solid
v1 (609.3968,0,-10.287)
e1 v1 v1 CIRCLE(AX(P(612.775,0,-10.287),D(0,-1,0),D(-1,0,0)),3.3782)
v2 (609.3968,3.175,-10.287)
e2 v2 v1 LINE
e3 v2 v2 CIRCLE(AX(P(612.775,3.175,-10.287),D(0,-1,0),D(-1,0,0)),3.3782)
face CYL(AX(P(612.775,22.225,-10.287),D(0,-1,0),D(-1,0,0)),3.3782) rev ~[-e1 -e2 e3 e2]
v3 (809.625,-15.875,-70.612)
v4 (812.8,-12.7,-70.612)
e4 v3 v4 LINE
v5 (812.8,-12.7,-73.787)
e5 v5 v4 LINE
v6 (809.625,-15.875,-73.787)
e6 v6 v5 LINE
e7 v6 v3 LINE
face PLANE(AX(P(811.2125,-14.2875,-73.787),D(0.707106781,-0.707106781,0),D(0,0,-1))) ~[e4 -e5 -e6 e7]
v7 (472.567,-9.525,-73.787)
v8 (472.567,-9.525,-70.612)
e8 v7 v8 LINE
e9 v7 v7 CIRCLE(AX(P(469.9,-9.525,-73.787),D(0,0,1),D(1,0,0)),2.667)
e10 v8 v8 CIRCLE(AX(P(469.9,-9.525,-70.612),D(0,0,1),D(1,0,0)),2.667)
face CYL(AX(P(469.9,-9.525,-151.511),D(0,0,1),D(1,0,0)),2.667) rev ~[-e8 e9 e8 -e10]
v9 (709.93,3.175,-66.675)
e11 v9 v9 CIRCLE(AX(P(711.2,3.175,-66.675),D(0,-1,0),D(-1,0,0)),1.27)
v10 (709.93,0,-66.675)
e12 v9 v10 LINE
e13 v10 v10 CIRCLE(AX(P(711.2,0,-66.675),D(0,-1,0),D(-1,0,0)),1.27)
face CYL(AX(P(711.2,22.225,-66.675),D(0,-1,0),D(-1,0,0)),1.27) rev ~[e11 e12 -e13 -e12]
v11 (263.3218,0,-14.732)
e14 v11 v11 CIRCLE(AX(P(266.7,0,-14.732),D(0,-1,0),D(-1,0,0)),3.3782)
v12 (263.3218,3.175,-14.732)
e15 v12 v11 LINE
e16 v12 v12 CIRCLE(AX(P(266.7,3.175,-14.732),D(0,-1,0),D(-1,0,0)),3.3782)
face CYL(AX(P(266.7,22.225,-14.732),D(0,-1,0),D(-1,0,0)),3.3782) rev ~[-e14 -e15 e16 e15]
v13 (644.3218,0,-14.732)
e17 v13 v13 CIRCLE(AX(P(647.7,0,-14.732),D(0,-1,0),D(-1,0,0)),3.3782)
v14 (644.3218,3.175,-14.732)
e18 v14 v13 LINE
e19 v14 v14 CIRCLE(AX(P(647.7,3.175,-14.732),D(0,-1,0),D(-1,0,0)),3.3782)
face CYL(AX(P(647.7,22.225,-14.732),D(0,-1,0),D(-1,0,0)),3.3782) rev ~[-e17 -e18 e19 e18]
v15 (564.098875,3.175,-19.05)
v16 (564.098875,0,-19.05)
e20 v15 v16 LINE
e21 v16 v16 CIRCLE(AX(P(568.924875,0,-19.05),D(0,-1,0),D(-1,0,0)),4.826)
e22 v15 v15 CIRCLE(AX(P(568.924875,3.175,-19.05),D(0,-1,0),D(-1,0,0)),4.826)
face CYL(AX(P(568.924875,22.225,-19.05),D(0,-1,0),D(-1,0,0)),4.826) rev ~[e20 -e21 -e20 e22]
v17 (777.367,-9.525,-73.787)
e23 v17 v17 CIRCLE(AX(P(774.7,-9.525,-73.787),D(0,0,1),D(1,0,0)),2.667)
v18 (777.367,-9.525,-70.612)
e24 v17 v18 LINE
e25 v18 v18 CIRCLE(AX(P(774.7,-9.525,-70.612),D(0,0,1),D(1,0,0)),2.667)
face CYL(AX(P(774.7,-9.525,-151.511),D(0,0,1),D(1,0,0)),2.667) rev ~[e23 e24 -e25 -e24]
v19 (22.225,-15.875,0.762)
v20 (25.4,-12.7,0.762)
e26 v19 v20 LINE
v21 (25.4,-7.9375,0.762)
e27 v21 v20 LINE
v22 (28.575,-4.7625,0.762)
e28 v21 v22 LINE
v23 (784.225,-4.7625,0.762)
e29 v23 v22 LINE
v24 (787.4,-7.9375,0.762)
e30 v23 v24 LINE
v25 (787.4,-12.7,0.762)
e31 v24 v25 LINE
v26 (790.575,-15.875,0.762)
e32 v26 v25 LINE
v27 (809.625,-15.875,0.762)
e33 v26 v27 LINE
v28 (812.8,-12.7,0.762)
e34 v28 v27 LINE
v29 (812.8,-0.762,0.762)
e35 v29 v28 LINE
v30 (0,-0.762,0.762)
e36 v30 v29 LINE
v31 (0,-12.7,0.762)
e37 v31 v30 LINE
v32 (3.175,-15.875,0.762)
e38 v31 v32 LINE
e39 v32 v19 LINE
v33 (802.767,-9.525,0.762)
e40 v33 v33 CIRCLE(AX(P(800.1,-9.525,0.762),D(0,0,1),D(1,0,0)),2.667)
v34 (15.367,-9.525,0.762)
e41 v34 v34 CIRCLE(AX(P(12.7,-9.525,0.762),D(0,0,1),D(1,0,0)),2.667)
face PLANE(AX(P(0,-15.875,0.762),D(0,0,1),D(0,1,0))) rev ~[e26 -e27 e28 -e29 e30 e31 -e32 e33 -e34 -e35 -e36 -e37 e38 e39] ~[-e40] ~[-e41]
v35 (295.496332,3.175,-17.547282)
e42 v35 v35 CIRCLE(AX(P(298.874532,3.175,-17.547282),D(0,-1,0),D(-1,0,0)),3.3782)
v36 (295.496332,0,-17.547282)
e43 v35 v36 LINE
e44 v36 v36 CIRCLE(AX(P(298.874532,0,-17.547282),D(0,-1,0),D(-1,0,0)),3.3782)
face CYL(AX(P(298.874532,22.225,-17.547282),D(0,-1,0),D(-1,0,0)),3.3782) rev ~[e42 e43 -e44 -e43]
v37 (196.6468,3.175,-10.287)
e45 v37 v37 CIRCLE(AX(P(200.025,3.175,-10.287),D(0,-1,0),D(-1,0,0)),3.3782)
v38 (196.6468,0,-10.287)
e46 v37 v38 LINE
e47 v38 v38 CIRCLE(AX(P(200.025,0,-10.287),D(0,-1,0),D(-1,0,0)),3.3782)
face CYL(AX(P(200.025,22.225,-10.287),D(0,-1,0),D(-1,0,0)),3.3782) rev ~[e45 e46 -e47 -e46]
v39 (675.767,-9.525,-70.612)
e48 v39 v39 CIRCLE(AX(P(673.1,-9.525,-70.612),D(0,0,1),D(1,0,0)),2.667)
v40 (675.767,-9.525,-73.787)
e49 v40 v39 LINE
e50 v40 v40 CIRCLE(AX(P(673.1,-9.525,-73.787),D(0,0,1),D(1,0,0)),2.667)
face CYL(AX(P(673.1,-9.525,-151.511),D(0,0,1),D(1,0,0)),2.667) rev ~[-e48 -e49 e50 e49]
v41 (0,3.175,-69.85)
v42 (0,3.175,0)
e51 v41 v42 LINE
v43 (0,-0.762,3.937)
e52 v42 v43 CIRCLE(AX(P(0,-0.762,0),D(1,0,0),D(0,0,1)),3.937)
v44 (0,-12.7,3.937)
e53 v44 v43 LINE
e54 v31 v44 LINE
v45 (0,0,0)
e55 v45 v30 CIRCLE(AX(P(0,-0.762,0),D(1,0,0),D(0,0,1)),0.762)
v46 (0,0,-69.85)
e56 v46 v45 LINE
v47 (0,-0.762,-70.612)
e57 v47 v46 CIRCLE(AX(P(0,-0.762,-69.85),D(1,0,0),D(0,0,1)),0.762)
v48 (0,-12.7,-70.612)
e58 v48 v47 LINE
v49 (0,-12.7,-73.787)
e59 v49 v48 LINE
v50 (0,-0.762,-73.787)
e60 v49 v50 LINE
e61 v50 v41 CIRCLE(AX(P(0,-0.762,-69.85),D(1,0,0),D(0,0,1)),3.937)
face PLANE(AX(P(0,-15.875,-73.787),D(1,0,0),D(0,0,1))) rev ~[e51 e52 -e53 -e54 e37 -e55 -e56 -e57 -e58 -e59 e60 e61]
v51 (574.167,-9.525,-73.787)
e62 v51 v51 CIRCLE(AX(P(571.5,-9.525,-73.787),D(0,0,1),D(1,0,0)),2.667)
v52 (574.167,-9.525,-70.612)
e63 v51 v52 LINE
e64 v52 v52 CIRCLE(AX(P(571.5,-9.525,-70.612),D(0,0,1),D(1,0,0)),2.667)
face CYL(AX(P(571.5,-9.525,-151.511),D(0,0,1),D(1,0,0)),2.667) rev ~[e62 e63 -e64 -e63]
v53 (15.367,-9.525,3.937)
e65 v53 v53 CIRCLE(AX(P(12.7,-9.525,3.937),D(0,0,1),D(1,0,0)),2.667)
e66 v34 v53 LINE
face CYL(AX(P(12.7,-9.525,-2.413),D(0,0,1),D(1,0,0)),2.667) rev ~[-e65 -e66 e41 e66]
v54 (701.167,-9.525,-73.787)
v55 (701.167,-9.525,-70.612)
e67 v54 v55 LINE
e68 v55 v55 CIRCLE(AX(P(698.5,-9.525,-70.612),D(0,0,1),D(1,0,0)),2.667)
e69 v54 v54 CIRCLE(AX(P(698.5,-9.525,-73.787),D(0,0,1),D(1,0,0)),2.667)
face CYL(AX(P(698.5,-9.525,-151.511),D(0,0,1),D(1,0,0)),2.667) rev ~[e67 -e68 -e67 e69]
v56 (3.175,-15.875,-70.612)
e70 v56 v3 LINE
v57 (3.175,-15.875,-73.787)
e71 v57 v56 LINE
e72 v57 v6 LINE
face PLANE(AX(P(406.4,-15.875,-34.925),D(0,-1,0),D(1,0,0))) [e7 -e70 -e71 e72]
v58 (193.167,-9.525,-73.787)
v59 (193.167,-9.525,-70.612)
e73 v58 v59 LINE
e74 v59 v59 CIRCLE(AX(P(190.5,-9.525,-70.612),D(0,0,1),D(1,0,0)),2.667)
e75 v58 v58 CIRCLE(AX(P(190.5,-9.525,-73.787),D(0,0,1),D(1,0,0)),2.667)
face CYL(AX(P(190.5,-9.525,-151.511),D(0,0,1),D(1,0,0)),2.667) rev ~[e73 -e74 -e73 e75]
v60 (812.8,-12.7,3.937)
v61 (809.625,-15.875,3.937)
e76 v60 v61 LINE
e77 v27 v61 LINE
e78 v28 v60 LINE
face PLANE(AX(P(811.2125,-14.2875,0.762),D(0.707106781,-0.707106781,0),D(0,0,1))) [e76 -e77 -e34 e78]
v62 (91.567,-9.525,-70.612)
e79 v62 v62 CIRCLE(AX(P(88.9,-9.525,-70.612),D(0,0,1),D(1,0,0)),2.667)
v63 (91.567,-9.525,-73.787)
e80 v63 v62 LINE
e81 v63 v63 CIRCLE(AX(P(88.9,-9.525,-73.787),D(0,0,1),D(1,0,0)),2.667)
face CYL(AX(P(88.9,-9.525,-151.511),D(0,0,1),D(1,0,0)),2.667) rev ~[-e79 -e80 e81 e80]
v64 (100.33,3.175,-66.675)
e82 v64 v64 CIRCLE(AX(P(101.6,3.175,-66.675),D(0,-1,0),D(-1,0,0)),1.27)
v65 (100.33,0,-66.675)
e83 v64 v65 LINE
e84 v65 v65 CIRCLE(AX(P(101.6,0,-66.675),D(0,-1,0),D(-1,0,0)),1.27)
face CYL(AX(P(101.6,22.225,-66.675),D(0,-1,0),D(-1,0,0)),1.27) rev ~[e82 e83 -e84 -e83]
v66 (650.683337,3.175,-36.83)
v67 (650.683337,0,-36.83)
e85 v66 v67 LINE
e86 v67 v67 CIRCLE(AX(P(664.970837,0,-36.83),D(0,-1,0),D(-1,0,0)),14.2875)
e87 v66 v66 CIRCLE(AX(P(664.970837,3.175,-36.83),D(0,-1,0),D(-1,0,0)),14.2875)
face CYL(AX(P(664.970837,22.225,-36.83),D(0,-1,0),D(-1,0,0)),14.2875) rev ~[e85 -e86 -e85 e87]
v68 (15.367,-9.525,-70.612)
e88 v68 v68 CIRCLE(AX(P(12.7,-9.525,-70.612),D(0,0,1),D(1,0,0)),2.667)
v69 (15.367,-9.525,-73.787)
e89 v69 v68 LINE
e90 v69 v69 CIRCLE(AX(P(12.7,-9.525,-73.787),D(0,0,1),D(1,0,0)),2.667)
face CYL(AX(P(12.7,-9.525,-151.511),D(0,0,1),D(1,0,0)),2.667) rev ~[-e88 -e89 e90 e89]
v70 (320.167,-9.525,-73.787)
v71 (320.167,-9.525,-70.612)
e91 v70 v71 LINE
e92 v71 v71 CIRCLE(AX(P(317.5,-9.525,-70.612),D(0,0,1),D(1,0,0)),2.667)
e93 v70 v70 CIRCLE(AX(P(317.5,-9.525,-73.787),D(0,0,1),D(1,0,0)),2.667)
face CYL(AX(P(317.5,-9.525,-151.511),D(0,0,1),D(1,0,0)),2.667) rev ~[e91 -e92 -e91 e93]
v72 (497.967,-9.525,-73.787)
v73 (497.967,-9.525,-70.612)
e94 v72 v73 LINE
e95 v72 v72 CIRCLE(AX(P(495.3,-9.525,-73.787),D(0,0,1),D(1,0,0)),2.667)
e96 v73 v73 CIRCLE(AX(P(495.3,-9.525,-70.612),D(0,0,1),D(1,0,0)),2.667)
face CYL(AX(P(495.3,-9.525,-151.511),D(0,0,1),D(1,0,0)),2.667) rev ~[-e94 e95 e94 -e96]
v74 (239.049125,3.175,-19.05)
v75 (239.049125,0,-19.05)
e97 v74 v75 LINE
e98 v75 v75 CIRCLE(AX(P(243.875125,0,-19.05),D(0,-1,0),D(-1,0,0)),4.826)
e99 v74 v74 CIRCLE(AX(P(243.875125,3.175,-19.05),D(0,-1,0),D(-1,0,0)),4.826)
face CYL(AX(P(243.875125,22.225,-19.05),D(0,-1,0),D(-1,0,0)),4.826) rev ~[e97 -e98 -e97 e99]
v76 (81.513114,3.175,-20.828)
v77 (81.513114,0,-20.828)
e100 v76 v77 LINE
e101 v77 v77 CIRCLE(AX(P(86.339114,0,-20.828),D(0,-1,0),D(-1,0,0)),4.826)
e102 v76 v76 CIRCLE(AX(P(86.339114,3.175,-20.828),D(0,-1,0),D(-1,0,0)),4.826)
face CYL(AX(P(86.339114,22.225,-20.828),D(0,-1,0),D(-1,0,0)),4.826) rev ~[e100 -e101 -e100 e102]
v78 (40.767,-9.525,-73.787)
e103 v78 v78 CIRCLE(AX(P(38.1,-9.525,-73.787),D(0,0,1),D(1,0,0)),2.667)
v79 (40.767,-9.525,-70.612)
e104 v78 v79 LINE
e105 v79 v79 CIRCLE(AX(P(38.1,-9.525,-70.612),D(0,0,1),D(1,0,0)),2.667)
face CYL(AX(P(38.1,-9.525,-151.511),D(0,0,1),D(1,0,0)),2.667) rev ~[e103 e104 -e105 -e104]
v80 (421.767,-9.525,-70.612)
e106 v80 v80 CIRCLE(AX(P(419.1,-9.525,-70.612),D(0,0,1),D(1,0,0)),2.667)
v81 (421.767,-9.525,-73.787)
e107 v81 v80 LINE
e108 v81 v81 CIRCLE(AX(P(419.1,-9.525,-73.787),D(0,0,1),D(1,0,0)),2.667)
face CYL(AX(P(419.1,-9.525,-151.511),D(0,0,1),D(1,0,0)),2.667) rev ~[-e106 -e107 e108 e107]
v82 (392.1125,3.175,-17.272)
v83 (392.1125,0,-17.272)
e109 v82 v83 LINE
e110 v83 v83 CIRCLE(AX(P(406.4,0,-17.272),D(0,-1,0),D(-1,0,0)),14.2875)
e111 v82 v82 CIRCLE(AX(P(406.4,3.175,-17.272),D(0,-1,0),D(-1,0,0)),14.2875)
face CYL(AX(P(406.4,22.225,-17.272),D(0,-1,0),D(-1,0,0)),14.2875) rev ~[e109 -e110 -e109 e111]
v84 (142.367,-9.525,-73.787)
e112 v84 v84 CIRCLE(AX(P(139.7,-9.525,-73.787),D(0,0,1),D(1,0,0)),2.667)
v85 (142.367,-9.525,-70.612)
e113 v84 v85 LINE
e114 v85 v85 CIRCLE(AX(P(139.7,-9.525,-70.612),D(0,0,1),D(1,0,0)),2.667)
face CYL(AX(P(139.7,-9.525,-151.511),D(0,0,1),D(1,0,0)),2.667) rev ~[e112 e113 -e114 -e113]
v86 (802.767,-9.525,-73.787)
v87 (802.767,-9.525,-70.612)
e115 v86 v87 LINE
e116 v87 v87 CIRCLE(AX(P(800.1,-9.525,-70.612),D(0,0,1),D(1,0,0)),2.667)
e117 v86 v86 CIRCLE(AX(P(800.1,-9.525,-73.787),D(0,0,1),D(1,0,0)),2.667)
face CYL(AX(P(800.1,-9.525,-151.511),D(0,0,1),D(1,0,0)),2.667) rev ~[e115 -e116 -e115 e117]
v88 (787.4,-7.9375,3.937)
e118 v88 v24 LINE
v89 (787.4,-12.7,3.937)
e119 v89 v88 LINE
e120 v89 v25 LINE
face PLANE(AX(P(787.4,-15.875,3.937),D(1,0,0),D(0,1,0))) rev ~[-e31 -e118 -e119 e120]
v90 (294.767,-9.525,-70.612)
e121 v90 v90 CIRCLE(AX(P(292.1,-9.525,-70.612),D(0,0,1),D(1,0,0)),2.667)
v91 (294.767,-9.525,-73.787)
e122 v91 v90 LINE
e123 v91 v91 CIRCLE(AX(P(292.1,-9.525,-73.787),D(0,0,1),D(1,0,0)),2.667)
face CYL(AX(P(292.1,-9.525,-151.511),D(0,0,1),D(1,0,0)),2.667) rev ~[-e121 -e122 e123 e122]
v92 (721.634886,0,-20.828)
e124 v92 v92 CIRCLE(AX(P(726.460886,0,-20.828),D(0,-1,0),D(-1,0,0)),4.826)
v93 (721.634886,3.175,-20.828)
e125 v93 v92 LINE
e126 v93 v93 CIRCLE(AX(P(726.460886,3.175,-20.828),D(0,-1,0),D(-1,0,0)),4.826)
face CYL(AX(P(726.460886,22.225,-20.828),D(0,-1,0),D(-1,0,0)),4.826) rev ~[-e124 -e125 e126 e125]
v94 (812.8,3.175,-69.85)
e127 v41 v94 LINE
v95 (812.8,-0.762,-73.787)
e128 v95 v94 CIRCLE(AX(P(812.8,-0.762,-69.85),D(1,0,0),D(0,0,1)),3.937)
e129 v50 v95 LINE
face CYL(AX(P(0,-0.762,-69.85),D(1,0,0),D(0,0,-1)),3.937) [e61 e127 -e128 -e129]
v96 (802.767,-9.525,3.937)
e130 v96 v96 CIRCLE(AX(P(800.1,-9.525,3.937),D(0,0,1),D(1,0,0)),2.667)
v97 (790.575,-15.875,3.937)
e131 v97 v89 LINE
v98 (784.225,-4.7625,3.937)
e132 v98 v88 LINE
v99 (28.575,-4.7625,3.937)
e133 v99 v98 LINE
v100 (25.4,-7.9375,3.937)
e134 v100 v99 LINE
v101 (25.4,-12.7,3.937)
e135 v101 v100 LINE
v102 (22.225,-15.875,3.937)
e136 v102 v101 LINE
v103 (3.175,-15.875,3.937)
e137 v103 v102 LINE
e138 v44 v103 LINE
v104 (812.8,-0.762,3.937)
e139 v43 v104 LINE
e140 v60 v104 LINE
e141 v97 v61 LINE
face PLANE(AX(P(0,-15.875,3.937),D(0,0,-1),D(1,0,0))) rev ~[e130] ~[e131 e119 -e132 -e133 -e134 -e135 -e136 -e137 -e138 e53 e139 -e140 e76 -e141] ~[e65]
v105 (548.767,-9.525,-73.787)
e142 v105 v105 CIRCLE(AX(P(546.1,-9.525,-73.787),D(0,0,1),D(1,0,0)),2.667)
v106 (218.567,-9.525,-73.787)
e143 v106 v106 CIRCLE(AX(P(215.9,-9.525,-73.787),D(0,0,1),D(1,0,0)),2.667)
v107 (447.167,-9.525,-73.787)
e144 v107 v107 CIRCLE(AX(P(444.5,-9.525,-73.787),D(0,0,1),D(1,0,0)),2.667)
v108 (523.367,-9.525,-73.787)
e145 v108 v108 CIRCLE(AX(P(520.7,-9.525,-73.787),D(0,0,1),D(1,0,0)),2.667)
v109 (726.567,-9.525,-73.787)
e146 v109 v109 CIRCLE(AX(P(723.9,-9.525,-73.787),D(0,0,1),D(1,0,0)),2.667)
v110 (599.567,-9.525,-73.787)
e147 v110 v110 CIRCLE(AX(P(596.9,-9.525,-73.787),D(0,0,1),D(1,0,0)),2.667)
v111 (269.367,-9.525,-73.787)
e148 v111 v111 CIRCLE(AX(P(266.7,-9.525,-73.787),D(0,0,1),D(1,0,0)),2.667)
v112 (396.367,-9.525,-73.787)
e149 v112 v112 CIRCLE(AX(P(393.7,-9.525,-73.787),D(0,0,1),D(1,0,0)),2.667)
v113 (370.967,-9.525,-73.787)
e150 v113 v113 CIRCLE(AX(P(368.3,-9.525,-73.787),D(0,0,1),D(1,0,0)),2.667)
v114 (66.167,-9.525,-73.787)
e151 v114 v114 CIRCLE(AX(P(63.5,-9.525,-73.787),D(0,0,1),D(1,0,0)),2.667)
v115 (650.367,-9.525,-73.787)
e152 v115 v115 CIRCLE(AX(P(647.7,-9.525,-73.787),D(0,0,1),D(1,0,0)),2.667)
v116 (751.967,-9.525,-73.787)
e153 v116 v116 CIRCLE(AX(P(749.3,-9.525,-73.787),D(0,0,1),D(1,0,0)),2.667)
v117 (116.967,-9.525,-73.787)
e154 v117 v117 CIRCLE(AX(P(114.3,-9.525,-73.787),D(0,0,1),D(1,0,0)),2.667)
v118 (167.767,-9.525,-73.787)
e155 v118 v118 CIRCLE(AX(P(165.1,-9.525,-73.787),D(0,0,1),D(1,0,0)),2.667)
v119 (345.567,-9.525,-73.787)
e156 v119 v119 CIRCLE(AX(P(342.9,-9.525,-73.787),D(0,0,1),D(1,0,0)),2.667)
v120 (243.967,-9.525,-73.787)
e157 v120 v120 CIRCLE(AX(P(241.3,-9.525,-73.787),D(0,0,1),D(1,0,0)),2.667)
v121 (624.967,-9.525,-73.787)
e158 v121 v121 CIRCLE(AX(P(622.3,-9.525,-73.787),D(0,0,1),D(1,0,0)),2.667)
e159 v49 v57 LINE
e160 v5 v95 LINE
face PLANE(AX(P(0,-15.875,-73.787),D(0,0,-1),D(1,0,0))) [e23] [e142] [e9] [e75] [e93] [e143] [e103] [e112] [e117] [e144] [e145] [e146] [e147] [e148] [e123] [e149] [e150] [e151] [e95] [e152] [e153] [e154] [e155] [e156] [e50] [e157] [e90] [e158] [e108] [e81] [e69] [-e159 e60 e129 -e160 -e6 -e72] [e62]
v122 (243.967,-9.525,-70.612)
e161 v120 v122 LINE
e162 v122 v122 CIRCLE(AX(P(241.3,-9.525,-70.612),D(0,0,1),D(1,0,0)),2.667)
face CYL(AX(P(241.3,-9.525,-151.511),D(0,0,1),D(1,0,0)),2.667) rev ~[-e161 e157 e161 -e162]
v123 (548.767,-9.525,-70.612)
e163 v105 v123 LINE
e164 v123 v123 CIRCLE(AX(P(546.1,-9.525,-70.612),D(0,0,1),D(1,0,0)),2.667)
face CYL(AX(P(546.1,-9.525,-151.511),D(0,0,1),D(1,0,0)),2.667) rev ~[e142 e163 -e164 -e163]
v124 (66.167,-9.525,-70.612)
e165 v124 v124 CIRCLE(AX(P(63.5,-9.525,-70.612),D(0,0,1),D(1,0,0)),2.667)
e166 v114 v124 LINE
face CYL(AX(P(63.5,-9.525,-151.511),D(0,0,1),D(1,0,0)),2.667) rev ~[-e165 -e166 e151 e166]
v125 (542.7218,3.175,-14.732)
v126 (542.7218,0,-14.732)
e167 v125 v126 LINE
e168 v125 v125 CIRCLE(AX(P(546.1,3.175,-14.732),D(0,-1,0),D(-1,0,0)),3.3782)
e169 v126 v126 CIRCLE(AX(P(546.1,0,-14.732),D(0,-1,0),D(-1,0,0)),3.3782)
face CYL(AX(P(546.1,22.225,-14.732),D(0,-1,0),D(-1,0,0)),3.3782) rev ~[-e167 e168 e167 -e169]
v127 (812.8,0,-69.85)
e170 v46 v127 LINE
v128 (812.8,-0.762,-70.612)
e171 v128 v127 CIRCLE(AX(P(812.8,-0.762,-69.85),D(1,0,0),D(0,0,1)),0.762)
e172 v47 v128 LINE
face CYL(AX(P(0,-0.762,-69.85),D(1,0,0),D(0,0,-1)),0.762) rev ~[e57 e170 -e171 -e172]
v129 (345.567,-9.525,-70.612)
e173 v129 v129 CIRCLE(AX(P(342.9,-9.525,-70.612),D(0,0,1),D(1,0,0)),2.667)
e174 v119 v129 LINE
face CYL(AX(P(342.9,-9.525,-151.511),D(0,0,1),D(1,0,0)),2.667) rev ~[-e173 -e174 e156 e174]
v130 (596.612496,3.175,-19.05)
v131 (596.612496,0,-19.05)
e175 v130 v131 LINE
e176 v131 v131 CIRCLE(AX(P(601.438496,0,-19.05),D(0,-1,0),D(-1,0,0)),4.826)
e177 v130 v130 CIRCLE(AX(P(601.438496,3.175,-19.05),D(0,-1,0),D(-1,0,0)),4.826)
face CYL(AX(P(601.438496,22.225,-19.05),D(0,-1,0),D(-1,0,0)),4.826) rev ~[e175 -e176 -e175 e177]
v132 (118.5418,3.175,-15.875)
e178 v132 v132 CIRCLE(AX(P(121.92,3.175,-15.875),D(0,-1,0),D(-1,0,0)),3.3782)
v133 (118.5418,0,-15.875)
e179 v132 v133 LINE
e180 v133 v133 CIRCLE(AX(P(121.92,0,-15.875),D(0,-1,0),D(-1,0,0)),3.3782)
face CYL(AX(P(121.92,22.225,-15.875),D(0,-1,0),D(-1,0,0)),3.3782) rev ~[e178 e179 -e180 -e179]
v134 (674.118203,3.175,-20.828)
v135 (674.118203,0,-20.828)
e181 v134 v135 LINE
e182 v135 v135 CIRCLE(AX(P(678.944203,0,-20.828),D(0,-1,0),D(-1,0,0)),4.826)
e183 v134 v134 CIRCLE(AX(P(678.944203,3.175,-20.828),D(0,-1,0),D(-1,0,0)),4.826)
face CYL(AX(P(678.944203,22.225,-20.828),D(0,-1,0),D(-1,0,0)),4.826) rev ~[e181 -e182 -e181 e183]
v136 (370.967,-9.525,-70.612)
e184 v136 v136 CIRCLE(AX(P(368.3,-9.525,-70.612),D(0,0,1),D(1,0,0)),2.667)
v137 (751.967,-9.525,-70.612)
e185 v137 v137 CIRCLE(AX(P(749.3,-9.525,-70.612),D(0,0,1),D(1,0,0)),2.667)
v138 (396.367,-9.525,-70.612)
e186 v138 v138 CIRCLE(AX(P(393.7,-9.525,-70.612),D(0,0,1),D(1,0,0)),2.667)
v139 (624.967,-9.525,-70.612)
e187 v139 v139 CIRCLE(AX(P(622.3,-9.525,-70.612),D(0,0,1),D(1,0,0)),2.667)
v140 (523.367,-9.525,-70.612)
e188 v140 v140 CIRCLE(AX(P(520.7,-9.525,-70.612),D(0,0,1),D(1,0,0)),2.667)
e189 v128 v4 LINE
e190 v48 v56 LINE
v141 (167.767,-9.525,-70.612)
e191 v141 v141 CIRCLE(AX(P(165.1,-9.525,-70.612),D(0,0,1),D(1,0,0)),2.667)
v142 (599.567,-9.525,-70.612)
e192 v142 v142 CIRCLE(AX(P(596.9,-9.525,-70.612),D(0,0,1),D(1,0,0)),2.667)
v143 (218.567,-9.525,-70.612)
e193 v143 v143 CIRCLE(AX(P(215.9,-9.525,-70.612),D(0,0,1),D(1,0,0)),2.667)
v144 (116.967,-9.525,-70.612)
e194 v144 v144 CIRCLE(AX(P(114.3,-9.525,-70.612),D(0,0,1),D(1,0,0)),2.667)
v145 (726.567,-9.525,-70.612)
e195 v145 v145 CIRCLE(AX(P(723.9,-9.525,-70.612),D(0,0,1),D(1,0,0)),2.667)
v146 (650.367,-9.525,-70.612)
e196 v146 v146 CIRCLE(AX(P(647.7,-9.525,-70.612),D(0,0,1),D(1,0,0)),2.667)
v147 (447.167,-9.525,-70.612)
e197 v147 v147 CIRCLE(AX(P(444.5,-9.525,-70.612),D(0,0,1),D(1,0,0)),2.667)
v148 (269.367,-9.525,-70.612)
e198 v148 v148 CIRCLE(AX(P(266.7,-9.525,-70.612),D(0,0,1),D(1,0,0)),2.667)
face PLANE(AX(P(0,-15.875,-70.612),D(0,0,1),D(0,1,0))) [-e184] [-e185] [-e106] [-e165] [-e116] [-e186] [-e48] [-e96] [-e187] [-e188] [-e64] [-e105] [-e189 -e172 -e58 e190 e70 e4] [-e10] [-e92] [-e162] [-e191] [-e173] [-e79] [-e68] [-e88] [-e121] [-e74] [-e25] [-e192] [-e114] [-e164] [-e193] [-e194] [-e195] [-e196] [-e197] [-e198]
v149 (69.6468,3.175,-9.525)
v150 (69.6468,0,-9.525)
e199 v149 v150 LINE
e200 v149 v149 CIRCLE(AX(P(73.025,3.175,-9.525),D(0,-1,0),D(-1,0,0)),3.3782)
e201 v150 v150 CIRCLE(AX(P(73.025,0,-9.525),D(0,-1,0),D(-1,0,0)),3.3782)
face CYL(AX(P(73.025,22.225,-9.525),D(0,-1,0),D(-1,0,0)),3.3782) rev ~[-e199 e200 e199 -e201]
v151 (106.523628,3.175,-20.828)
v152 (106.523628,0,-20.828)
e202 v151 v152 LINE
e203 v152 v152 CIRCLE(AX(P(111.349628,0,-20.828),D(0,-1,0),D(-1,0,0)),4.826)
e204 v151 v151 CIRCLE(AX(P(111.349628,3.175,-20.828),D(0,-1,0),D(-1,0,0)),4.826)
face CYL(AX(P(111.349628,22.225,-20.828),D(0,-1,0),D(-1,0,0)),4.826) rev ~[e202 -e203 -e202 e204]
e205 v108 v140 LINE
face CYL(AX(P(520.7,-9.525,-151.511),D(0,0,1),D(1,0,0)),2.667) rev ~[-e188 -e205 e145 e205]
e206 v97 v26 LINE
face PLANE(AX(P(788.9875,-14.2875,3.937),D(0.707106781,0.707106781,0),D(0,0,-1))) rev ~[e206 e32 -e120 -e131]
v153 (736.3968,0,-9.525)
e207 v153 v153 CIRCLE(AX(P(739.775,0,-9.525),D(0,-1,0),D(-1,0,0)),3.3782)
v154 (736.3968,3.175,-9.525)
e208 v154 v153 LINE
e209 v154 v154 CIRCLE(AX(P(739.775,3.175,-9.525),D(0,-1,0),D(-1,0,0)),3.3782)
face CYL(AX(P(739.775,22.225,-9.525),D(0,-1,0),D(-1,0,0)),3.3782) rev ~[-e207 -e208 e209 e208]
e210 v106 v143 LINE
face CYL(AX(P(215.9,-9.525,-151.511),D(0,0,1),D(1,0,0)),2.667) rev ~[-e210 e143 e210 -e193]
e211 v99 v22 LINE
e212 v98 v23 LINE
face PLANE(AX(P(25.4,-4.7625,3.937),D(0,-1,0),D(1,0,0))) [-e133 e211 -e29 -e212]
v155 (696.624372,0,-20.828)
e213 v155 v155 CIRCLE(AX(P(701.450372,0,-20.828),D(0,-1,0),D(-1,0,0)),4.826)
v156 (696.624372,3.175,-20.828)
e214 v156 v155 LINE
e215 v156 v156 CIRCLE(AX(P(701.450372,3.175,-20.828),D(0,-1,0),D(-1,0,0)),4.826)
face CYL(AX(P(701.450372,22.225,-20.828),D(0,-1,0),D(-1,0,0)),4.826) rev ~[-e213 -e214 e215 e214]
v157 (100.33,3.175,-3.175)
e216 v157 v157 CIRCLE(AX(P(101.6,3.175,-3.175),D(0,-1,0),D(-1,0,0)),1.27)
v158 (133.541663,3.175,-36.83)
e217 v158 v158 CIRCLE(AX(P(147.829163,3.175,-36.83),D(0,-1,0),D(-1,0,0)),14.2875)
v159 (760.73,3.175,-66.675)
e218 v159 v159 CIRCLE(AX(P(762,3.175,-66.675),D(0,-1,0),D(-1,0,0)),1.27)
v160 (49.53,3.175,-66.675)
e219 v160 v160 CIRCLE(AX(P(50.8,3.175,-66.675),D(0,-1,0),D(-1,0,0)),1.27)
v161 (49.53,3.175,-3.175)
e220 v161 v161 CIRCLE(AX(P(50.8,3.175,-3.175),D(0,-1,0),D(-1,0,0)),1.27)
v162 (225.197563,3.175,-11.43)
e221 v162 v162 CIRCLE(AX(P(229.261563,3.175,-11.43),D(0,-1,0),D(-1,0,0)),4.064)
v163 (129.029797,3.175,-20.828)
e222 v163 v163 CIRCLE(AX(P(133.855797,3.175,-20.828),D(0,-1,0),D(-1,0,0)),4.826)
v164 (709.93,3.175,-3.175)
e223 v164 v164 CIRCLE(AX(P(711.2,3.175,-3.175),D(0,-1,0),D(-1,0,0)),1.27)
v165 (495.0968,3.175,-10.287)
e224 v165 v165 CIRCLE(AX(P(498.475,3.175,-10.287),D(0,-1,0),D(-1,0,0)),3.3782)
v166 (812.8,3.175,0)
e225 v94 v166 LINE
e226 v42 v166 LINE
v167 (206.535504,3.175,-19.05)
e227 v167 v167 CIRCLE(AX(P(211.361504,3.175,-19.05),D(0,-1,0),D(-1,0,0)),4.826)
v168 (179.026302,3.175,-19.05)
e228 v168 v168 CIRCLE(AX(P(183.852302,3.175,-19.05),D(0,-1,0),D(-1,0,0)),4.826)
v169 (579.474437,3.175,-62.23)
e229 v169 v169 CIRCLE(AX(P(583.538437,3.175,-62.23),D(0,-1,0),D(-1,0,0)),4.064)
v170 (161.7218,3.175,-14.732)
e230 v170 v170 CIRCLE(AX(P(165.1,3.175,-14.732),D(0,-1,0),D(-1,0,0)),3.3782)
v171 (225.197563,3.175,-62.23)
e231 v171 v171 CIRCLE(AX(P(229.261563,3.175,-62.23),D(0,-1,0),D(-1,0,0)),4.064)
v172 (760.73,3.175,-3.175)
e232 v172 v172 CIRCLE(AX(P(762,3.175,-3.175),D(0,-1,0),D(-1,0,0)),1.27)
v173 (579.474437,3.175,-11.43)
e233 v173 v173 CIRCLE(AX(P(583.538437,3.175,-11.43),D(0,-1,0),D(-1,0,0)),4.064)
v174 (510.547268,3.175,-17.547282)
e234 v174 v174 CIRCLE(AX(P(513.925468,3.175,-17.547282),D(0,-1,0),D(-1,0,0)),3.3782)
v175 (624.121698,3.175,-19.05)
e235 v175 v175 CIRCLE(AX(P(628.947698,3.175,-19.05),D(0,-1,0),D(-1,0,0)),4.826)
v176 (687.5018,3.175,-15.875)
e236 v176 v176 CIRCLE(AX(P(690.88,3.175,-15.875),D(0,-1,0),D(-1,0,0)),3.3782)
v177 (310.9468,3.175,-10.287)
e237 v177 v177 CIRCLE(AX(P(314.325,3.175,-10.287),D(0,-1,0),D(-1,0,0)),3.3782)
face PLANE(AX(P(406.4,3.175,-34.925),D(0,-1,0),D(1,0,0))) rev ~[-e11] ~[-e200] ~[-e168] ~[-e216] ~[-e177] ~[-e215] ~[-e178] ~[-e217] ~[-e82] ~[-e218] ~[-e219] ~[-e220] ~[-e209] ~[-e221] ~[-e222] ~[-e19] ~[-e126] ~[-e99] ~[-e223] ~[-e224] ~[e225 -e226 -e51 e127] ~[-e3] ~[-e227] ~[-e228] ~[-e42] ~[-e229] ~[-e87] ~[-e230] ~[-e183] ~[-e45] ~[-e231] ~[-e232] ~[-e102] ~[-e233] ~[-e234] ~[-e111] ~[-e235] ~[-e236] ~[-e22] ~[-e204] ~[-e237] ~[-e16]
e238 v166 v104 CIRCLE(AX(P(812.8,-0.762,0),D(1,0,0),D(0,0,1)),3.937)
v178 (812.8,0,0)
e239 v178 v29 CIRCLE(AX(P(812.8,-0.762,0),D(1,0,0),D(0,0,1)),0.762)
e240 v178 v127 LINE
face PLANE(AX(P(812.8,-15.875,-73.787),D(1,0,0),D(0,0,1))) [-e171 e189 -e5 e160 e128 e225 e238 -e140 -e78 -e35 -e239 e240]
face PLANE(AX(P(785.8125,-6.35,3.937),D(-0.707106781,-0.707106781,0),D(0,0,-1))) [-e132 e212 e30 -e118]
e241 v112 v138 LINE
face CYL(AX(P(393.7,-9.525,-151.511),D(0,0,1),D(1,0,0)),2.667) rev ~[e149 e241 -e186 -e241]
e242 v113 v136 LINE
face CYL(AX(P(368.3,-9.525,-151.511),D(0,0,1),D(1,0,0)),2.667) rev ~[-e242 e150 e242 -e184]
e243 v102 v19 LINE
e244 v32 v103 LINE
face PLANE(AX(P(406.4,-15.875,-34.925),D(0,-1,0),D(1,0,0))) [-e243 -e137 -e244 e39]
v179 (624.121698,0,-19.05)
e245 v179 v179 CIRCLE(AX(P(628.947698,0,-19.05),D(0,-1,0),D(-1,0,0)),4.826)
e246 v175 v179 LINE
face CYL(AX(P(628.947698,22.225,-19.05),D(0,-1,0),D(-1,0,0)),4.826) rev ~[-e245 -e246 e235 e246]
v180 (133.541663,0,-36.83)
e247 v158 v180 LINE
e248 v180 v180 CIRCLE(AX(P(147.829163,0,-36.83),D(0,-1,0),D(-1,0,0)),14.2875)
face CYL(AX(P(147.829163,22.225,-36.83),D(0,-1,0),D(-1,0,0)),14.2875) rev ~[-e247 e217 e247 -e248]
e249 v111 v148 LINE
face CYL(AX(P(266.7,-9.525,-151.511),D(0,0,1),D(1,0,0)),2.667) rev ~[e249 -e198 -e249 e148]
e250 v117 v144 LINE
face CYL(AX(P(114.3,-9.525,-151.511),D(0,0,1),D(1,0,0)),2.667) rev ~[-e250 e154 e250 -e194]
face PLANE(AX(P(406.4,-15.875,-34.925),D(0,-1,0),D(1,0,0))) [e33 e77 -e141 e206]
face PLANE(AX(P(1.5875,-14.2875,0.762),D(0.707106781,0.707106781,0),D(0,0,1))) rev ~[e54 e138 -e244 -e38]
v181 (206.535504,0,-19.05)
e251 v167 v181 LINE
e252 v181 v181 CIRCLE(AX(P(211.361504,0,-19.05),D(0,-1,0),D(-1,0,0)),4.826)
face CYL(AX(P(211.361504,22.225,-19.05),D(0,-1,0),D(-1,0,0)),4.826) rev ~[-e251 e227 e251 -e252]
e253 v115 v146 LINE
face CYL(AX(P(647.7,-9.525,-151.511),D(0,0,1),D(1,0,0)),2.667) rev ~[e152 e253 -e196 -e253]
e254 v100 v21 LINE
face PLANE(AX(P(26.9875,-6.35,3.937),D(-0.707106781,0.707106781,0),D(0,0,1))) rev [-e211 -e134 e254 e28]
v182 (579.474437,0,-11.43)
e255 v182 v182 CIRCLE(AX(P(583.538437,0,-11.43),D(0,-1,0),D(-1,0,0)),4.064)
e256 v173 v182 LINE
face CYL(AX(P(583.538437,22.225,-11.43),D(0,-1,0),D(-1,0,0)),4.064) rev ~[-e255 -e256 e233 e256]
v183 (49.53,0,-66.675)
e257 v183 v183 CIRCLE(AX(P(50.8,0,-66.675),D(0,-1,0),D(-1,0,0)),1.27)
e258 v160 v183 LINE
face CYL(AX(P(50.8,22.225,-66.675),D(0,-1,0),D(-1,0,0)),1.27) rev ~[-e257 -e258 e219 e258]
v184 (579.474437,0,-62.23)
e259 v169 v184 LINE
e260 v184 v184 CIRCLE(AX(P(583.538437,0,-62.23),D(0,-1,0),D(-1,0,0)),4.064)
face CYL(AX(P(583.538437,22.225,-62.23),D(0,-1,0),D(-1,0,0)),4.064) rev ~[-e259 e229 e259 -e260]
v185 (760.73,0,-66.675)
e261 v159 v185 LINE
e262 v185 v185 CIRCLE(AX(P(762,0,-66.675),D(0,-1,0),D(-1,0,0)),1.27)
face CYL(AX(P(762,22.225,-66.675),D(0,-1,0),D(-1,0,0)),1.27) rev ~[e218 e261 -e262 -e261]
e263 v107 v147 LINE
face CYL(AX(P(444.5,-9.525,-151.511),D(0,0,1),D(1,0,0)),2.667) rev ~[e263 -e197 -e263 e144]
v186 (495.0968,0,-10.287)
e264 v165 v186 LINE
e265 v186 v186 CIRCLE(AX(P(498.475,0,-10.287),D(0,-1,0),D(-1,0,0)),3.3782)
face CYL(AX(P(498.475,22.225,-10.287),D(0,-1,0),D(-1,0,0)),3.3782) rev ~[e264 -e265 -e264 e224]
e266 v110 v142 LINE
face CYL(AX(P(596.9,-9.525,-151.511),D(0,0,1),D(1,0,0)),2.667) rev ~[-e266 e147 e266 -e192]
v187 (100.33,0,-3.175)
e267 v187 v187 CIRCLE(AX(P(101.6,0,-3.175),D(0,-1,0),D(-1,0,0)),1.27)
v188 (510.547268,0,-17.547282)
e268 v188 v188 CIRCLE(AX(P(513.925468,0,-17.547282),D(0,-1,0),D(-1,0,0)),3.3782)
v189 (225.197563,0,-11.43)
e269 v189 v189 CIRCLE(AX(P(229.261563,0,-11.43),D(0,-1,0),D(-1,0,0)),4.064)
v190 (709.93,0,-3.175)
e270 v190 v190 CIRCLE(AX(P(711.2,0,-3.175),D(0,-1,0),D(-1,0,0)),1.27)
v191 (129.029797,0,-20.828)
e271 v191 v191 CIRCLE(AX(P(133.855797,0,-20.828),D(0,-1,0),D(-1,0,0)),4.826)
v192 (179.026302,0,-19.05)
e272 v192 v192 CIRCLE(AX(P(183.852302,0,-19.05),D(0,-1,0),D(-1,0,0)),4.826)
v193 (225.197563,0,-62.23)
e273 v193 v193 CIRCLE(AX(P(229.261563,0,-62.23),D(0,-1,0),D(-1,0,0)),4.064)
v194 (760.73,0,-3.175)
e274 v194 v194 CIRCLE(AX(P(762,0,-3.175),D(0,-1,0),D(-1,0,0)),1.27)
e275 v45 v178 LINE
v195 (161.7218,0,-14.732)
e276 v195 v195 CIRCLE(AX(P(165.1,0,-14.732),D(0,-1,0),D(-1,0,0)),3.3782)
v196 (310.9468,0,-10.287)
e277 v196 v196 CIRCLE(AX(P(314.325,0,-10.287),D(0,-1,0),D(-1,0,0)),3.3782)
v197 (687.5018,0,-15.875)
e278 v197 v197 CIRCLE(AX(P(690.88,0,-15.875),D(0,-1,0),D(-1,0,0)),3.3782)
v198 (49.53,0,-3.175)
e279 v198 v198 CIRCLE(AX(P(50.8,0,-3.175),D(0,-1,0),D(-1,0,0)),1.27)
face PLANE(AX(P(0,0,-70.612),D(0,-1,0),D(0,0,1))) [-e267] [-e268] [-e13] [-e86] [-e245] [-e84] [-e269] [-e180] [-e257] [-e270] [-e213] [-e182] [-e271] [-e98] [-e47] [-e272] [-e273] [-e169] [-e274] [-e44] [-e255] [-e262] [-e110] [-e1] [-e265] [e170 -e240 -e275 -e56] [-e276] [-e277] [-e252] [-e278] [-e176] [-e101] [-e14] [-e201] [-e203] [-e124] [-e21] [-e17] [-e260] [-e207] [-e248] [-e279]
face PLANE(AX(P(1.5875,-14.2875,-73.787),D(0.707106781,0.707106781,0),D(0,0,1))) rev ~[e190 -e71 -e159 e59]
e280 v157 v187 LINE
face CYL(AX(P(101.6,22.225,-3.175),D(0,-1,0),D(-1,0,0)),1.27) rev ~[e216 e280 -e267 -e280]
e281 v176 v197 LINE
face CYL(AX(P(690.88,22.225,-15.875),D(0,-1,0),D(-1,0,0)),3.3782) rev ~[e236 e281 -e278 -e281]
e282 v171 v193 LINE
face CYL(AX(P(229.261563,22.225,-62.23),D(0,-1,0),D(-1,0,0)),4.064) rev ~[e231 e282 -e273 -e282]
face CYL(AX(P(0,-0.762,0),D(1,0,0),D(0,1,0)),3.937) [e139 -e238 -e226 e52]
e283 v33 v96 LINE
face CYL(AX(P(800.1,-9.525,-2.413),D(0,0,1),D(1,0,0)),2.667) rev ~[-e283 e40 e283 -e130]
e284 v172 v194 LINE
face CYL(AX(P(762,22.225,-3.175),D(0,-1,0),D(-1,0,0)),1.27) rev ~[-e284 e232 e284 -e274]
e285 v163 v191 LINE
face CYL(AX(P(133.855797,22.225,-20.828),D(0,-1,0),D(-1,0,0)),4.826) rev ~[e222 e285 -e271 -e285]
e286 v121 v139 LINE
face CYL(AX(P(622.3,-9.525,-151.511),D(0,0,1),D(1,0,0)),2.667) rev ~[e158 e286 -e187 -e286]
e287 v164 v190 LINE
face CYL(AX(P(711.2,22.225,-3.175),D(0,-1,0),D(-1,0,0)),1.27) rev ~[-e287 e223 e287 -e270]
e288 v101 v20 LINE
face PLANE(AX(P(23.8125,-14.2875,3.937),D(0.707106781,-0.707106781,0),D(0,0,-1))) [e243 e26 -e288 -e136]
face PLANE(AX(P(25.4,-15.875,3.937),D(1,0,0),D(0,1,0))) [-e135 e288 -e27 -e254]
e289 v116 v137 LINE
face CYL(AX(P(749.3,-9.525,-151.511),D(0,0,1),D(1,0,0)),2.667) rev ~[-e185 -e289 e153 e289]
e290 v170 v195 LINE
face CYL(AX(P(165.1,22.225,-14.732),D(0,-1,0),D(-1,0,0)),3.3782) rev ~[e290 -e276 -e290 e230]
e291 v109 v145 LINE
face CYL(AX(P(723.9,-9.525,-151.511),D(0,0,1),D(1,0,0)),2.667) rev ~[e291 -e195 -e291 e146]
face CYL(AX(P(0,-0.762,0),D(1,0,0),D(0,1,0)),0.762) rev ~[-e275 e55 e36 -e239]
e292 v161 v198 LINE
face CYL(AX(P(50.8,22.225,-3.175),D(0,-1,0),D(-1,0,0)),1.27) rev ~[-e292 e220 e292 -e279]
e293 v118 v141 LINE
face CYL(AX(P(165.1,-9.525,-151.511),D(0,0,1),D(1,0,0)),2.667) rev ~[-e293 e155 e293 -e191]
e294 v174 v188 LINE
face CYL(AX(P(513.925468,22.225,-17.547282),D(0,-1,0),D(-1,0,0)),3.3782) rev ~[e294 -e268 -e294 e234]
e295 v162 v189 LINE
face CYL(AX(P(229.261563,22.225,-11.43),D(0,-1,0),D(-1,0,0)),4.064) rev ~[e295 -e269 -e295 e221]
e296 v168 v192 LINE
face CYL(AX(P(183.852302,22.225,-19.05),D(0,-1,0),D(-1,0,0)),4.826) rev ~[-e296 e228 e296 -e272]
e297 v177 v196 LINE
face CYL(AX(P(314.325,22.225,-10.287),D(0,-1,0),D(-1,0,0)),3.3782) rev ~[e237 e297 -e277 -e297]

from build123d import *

# Parameters (mm, degrees)
SKETCH1_W                 = 812.8
SKETCH1_H                 = 77.724
BOSS_EXTRUDE1_DEPTH       = 19.05
SKETCH2_W                 = 71.374
SKETCH2_H                 = 15.875
CUT_EXTRUDE1_DEPTH        = 817.296745672
CUT_EXTRUDE2_REACH        = 818.662
SKETCH3_W                 = 762
SKETCH3_H                 = 11.1125
M8_CLEARANCE_HOLE1_D      = 9.652
M8_CLEARANCE_HOLE1_DEPTH  = 19.05
M2_CLEARANCE_HOLE1_D      = 2.54
M2_CLEARANCE_HOLE1_DEPTH  = 19.05
M25_CLEARANCE_HOLE1_D     = 28.575
M25_CLEARANCE_HOLE1_DEPTH = 19.05
M6_CLEARANCE_HOLE1_D      = 6.7564
M6_CLEARANCE_HOLE1_DEPTH  = 19.05
HOLE1_D                   = 8.128
HOLE1_DEPTH               = 19.05
M5_CLEARANCE_HOLE1_D      = 5.334
M5_CLEARANCE_HOLE1_DEPTH  = 3.175
M5_CLEARANCE_HOLE2_D      = 5.334
M5_CLEARANCE_HOLE2_DEPTH  = 77.724
CHAMFER1_SIZE             = 3.175
FILLET1_R                 = 0.762
FILLET2_R                 = 3.937


with BuildPart() as part:
    # Sketch1 → Boss-Extrude1 (new body)
    with BuildSketch(Plane.XZ.offset(15.875)):
        with Locations((406.4, -34.925)):
            Rectangle(SKETCH1_W, SKETCH1_H)
    extrude(amount=-BOSS_EXTRUDE1_DEPTH)

    # Sketch2 → Cut-Extrude1 (cut, through all)
    with BuildSketch(Plane.ZY):
        with Locations((-34.925, -7.9375)):
            Rectangle(SKETCH2_W, SKETCH2_H)
    extrude(amount=-CUT_EXTRUDE1_DEPTH, mode=Mode.SUBTRACT)

    # Sketch3 → Cut-Extrude2 (cut, up to next)
    with BuildSketch(Plane.XY.offset(3.937), mode=Mode.PRIVATE) as cut_extrude2_sk1:
        with Locations((406.4, -10.31875)):
            Rectangle(SKETCH3_W, SKETCH3_H)
    cut_extrude2_tool1 = extrude(cut_extrude2_sk1.sketch, amount=-CUT_EXTRUDE2_REACH, mode=Mode.PRIVATE) & part.part
    add(cut_extrude2_tool1.solids().sort_by_distance((406.4, -10.31875, 3.937))[0], mode=Mode.SUBTRACT)

    # M8 Clearance Hole1
    with Locations(Plane(origin=(0, 3.175, 0), x_dir=(1, 0, 0), z_dir=(0, 1, 0))):
        with Locations((568.924874752, 19.05), (601.438495912, 19.05), (628.947697627, 19.05), (243.875125248, 19.05), (211.361504088, 19.05), (183.852302373, 19.05), (678.944202666, 20.828), (701.450372003, 20.828), (726.460886343, 20.828), (133.855797334, 20.828), (111.349627997, 20.828), (86.339113657, 20.828)):
            Hole(M8_CLEARANCE_HOLE1_D / 2, depth=M8_CLEARANCE_HOLE1_DEPTH)

    # M2 Clearance Hole1
    with Locations(Plane(origin=(0, 3.175, 0), x_dir=(1, 0, 0), z_dir=(0, 1, 0))):
        with Locations((711.2, 3.175), (711.2, 66.675), (762, 3.175), (762, 66.675), (101.6, 3.175), (50.8, 3.175), (101.6, 66.675), (50.8, 66.675)):
            Hole(M2_CLEARANCE_HOLE1_D / 2, depth=M2_CLEARANCE_HOLE1_DEPTH)

    # M25 Clearance Hole1
    with Locations(Plane(origin=(0, 3.175, 0), x_dir=(1, 0, 0), z_dir=(0, 1, 0))):
        with Locations((664.970837168, 36.83), (147.829162832, 36.83), (406.4, 17.272)):
            Hole(M25_CLEARANCE_HOLE1_D / 2, depth=M25_CLEARANCE_HOLE1_DEPTH)

    # M6 Clearance Hole1
    with Locations(Plane(origin=(0, 3.175, 0), x_dir=(1, 0, 0), z_dir=(0, 1, 0))):
        with Locations((612.775, 10.287), (498.475, 10.287), (314.325, 10.287), (200.025, 10.287), (739.775, 9.525), (690.88, 15.875), (121.92, 15.875), (73.025, 9.525), (647.7, 14.732), (546.1, 14.732), (165.1, 14.732), (266.7, 14.732), (513.925467617, 17.547282407), (298.874532383, 17.547282407)):
            Hole(M6_CLEARANCE_HOLE1_D / 2, depth=M6_CLEARANCE_HOLE1_DEPTH)

    # Hole1
    with Locations(Plane(origin=(0, 3.175, 0), x_dir=(1, 0, 0), z_dir=(0, 1, 0))):
        with Locations((583.538437168, 62.23), (583.538437168, 11.43), (229.261562832, 11.43), (229.261562832, 62.23)):
            Hole(HOLE1_D / 2, depth=HOLE1_DEPTH)

    # M5 Clearance Hole1
    with Locations(Plane(origin=(0, 0, 0.762), x_dir=(-1, 0, 0), z_dir=(0, 0, -1))):
        with Locations((-12.7, -9.525), (-800.1, -9.525)):
            Hole(M5_CLEARANCE_HOLE1_D / 2, depth=M5_CLEARANCE_HOLE1_DEPTH)

    # M5 Clearance Hole2
    with Locations(Plane(origin=(0, 0, -73.787), x_dir=(-1, 0, 0), z_dir=(0, 0, -1))):
        with Locations((-800.1, -9.525), (-774.7, -9.525), (-749.3, -9.525), (-723.9, -9.525), (-698.5, -9.525), (-673.1, -9.525), (-647.7, -9.525), (-622.3, -9.525), (-596.9, -9.525), (-571.5, -9.525), (-546.1, -9.525), (-520.7, -9.525), (-495.3, -9.525), (-469.9, -9.525), (-444.5, -9.525), (-419.1, -9.525), (-393.7, -9.525), (-368.3, -9.525), (-342.9, -9.525), (-317.5, -9.525), (-292.1, -9.525), (-266.7, -9.525), (-241.3, -9.525), (-215.9, -9.525), (-190.5, -9.525), (-165.1, -9.525), (-139.7, -9.525), (-114.3, -9.525), (-88.9, -9.525), (-63.5, -9.525), (-38.1, -9.525), (-12.7, -9.525)):
            Hole(M5_CLEARANCE_HOLE2_D / 2, depth=M5_CLEARANCE_HOLE2_DEPTH)

    # Chamfer1
    chamfer1_edges = [part.edges().sort_by_distance(p)[0] for p in [
        (812.8, -15.875, 2.3495),
        (0, -15.875, -72.1995),
        (787.4, -4.7625, 2.3495),
        (25.4, -4.7625, 2.3495),
        (25.4, -15.875, 2.3495),
        (787.4, -15.875, 2.3495),
        (0, -15.875, 2.3495),
        (812.8, -15.875, -72.1995),
    ]]
    chamfer(chamfer1_edges, length=CHAMFER1_SIZE)

    # Fillet1
    fillet1_edges = [part.edges().sort_by_distance(p)[0] for p in [
        (406.4, 0, -70.612),
        (406.4, 0, 0.762),
    ]]
    fillet(fillet1_edges, radius=FILLET1_R)

    # Fillet2
    fillet2_edges = [part.edges().sort_by_distance(p)[0] for p in [
        (406.4, 3.175, -73.787),
        (406.4, 3.175, 3.937),
    ]]
    fillet(fillet2_edges, radius=FILLET2_R)


solid = part.part
